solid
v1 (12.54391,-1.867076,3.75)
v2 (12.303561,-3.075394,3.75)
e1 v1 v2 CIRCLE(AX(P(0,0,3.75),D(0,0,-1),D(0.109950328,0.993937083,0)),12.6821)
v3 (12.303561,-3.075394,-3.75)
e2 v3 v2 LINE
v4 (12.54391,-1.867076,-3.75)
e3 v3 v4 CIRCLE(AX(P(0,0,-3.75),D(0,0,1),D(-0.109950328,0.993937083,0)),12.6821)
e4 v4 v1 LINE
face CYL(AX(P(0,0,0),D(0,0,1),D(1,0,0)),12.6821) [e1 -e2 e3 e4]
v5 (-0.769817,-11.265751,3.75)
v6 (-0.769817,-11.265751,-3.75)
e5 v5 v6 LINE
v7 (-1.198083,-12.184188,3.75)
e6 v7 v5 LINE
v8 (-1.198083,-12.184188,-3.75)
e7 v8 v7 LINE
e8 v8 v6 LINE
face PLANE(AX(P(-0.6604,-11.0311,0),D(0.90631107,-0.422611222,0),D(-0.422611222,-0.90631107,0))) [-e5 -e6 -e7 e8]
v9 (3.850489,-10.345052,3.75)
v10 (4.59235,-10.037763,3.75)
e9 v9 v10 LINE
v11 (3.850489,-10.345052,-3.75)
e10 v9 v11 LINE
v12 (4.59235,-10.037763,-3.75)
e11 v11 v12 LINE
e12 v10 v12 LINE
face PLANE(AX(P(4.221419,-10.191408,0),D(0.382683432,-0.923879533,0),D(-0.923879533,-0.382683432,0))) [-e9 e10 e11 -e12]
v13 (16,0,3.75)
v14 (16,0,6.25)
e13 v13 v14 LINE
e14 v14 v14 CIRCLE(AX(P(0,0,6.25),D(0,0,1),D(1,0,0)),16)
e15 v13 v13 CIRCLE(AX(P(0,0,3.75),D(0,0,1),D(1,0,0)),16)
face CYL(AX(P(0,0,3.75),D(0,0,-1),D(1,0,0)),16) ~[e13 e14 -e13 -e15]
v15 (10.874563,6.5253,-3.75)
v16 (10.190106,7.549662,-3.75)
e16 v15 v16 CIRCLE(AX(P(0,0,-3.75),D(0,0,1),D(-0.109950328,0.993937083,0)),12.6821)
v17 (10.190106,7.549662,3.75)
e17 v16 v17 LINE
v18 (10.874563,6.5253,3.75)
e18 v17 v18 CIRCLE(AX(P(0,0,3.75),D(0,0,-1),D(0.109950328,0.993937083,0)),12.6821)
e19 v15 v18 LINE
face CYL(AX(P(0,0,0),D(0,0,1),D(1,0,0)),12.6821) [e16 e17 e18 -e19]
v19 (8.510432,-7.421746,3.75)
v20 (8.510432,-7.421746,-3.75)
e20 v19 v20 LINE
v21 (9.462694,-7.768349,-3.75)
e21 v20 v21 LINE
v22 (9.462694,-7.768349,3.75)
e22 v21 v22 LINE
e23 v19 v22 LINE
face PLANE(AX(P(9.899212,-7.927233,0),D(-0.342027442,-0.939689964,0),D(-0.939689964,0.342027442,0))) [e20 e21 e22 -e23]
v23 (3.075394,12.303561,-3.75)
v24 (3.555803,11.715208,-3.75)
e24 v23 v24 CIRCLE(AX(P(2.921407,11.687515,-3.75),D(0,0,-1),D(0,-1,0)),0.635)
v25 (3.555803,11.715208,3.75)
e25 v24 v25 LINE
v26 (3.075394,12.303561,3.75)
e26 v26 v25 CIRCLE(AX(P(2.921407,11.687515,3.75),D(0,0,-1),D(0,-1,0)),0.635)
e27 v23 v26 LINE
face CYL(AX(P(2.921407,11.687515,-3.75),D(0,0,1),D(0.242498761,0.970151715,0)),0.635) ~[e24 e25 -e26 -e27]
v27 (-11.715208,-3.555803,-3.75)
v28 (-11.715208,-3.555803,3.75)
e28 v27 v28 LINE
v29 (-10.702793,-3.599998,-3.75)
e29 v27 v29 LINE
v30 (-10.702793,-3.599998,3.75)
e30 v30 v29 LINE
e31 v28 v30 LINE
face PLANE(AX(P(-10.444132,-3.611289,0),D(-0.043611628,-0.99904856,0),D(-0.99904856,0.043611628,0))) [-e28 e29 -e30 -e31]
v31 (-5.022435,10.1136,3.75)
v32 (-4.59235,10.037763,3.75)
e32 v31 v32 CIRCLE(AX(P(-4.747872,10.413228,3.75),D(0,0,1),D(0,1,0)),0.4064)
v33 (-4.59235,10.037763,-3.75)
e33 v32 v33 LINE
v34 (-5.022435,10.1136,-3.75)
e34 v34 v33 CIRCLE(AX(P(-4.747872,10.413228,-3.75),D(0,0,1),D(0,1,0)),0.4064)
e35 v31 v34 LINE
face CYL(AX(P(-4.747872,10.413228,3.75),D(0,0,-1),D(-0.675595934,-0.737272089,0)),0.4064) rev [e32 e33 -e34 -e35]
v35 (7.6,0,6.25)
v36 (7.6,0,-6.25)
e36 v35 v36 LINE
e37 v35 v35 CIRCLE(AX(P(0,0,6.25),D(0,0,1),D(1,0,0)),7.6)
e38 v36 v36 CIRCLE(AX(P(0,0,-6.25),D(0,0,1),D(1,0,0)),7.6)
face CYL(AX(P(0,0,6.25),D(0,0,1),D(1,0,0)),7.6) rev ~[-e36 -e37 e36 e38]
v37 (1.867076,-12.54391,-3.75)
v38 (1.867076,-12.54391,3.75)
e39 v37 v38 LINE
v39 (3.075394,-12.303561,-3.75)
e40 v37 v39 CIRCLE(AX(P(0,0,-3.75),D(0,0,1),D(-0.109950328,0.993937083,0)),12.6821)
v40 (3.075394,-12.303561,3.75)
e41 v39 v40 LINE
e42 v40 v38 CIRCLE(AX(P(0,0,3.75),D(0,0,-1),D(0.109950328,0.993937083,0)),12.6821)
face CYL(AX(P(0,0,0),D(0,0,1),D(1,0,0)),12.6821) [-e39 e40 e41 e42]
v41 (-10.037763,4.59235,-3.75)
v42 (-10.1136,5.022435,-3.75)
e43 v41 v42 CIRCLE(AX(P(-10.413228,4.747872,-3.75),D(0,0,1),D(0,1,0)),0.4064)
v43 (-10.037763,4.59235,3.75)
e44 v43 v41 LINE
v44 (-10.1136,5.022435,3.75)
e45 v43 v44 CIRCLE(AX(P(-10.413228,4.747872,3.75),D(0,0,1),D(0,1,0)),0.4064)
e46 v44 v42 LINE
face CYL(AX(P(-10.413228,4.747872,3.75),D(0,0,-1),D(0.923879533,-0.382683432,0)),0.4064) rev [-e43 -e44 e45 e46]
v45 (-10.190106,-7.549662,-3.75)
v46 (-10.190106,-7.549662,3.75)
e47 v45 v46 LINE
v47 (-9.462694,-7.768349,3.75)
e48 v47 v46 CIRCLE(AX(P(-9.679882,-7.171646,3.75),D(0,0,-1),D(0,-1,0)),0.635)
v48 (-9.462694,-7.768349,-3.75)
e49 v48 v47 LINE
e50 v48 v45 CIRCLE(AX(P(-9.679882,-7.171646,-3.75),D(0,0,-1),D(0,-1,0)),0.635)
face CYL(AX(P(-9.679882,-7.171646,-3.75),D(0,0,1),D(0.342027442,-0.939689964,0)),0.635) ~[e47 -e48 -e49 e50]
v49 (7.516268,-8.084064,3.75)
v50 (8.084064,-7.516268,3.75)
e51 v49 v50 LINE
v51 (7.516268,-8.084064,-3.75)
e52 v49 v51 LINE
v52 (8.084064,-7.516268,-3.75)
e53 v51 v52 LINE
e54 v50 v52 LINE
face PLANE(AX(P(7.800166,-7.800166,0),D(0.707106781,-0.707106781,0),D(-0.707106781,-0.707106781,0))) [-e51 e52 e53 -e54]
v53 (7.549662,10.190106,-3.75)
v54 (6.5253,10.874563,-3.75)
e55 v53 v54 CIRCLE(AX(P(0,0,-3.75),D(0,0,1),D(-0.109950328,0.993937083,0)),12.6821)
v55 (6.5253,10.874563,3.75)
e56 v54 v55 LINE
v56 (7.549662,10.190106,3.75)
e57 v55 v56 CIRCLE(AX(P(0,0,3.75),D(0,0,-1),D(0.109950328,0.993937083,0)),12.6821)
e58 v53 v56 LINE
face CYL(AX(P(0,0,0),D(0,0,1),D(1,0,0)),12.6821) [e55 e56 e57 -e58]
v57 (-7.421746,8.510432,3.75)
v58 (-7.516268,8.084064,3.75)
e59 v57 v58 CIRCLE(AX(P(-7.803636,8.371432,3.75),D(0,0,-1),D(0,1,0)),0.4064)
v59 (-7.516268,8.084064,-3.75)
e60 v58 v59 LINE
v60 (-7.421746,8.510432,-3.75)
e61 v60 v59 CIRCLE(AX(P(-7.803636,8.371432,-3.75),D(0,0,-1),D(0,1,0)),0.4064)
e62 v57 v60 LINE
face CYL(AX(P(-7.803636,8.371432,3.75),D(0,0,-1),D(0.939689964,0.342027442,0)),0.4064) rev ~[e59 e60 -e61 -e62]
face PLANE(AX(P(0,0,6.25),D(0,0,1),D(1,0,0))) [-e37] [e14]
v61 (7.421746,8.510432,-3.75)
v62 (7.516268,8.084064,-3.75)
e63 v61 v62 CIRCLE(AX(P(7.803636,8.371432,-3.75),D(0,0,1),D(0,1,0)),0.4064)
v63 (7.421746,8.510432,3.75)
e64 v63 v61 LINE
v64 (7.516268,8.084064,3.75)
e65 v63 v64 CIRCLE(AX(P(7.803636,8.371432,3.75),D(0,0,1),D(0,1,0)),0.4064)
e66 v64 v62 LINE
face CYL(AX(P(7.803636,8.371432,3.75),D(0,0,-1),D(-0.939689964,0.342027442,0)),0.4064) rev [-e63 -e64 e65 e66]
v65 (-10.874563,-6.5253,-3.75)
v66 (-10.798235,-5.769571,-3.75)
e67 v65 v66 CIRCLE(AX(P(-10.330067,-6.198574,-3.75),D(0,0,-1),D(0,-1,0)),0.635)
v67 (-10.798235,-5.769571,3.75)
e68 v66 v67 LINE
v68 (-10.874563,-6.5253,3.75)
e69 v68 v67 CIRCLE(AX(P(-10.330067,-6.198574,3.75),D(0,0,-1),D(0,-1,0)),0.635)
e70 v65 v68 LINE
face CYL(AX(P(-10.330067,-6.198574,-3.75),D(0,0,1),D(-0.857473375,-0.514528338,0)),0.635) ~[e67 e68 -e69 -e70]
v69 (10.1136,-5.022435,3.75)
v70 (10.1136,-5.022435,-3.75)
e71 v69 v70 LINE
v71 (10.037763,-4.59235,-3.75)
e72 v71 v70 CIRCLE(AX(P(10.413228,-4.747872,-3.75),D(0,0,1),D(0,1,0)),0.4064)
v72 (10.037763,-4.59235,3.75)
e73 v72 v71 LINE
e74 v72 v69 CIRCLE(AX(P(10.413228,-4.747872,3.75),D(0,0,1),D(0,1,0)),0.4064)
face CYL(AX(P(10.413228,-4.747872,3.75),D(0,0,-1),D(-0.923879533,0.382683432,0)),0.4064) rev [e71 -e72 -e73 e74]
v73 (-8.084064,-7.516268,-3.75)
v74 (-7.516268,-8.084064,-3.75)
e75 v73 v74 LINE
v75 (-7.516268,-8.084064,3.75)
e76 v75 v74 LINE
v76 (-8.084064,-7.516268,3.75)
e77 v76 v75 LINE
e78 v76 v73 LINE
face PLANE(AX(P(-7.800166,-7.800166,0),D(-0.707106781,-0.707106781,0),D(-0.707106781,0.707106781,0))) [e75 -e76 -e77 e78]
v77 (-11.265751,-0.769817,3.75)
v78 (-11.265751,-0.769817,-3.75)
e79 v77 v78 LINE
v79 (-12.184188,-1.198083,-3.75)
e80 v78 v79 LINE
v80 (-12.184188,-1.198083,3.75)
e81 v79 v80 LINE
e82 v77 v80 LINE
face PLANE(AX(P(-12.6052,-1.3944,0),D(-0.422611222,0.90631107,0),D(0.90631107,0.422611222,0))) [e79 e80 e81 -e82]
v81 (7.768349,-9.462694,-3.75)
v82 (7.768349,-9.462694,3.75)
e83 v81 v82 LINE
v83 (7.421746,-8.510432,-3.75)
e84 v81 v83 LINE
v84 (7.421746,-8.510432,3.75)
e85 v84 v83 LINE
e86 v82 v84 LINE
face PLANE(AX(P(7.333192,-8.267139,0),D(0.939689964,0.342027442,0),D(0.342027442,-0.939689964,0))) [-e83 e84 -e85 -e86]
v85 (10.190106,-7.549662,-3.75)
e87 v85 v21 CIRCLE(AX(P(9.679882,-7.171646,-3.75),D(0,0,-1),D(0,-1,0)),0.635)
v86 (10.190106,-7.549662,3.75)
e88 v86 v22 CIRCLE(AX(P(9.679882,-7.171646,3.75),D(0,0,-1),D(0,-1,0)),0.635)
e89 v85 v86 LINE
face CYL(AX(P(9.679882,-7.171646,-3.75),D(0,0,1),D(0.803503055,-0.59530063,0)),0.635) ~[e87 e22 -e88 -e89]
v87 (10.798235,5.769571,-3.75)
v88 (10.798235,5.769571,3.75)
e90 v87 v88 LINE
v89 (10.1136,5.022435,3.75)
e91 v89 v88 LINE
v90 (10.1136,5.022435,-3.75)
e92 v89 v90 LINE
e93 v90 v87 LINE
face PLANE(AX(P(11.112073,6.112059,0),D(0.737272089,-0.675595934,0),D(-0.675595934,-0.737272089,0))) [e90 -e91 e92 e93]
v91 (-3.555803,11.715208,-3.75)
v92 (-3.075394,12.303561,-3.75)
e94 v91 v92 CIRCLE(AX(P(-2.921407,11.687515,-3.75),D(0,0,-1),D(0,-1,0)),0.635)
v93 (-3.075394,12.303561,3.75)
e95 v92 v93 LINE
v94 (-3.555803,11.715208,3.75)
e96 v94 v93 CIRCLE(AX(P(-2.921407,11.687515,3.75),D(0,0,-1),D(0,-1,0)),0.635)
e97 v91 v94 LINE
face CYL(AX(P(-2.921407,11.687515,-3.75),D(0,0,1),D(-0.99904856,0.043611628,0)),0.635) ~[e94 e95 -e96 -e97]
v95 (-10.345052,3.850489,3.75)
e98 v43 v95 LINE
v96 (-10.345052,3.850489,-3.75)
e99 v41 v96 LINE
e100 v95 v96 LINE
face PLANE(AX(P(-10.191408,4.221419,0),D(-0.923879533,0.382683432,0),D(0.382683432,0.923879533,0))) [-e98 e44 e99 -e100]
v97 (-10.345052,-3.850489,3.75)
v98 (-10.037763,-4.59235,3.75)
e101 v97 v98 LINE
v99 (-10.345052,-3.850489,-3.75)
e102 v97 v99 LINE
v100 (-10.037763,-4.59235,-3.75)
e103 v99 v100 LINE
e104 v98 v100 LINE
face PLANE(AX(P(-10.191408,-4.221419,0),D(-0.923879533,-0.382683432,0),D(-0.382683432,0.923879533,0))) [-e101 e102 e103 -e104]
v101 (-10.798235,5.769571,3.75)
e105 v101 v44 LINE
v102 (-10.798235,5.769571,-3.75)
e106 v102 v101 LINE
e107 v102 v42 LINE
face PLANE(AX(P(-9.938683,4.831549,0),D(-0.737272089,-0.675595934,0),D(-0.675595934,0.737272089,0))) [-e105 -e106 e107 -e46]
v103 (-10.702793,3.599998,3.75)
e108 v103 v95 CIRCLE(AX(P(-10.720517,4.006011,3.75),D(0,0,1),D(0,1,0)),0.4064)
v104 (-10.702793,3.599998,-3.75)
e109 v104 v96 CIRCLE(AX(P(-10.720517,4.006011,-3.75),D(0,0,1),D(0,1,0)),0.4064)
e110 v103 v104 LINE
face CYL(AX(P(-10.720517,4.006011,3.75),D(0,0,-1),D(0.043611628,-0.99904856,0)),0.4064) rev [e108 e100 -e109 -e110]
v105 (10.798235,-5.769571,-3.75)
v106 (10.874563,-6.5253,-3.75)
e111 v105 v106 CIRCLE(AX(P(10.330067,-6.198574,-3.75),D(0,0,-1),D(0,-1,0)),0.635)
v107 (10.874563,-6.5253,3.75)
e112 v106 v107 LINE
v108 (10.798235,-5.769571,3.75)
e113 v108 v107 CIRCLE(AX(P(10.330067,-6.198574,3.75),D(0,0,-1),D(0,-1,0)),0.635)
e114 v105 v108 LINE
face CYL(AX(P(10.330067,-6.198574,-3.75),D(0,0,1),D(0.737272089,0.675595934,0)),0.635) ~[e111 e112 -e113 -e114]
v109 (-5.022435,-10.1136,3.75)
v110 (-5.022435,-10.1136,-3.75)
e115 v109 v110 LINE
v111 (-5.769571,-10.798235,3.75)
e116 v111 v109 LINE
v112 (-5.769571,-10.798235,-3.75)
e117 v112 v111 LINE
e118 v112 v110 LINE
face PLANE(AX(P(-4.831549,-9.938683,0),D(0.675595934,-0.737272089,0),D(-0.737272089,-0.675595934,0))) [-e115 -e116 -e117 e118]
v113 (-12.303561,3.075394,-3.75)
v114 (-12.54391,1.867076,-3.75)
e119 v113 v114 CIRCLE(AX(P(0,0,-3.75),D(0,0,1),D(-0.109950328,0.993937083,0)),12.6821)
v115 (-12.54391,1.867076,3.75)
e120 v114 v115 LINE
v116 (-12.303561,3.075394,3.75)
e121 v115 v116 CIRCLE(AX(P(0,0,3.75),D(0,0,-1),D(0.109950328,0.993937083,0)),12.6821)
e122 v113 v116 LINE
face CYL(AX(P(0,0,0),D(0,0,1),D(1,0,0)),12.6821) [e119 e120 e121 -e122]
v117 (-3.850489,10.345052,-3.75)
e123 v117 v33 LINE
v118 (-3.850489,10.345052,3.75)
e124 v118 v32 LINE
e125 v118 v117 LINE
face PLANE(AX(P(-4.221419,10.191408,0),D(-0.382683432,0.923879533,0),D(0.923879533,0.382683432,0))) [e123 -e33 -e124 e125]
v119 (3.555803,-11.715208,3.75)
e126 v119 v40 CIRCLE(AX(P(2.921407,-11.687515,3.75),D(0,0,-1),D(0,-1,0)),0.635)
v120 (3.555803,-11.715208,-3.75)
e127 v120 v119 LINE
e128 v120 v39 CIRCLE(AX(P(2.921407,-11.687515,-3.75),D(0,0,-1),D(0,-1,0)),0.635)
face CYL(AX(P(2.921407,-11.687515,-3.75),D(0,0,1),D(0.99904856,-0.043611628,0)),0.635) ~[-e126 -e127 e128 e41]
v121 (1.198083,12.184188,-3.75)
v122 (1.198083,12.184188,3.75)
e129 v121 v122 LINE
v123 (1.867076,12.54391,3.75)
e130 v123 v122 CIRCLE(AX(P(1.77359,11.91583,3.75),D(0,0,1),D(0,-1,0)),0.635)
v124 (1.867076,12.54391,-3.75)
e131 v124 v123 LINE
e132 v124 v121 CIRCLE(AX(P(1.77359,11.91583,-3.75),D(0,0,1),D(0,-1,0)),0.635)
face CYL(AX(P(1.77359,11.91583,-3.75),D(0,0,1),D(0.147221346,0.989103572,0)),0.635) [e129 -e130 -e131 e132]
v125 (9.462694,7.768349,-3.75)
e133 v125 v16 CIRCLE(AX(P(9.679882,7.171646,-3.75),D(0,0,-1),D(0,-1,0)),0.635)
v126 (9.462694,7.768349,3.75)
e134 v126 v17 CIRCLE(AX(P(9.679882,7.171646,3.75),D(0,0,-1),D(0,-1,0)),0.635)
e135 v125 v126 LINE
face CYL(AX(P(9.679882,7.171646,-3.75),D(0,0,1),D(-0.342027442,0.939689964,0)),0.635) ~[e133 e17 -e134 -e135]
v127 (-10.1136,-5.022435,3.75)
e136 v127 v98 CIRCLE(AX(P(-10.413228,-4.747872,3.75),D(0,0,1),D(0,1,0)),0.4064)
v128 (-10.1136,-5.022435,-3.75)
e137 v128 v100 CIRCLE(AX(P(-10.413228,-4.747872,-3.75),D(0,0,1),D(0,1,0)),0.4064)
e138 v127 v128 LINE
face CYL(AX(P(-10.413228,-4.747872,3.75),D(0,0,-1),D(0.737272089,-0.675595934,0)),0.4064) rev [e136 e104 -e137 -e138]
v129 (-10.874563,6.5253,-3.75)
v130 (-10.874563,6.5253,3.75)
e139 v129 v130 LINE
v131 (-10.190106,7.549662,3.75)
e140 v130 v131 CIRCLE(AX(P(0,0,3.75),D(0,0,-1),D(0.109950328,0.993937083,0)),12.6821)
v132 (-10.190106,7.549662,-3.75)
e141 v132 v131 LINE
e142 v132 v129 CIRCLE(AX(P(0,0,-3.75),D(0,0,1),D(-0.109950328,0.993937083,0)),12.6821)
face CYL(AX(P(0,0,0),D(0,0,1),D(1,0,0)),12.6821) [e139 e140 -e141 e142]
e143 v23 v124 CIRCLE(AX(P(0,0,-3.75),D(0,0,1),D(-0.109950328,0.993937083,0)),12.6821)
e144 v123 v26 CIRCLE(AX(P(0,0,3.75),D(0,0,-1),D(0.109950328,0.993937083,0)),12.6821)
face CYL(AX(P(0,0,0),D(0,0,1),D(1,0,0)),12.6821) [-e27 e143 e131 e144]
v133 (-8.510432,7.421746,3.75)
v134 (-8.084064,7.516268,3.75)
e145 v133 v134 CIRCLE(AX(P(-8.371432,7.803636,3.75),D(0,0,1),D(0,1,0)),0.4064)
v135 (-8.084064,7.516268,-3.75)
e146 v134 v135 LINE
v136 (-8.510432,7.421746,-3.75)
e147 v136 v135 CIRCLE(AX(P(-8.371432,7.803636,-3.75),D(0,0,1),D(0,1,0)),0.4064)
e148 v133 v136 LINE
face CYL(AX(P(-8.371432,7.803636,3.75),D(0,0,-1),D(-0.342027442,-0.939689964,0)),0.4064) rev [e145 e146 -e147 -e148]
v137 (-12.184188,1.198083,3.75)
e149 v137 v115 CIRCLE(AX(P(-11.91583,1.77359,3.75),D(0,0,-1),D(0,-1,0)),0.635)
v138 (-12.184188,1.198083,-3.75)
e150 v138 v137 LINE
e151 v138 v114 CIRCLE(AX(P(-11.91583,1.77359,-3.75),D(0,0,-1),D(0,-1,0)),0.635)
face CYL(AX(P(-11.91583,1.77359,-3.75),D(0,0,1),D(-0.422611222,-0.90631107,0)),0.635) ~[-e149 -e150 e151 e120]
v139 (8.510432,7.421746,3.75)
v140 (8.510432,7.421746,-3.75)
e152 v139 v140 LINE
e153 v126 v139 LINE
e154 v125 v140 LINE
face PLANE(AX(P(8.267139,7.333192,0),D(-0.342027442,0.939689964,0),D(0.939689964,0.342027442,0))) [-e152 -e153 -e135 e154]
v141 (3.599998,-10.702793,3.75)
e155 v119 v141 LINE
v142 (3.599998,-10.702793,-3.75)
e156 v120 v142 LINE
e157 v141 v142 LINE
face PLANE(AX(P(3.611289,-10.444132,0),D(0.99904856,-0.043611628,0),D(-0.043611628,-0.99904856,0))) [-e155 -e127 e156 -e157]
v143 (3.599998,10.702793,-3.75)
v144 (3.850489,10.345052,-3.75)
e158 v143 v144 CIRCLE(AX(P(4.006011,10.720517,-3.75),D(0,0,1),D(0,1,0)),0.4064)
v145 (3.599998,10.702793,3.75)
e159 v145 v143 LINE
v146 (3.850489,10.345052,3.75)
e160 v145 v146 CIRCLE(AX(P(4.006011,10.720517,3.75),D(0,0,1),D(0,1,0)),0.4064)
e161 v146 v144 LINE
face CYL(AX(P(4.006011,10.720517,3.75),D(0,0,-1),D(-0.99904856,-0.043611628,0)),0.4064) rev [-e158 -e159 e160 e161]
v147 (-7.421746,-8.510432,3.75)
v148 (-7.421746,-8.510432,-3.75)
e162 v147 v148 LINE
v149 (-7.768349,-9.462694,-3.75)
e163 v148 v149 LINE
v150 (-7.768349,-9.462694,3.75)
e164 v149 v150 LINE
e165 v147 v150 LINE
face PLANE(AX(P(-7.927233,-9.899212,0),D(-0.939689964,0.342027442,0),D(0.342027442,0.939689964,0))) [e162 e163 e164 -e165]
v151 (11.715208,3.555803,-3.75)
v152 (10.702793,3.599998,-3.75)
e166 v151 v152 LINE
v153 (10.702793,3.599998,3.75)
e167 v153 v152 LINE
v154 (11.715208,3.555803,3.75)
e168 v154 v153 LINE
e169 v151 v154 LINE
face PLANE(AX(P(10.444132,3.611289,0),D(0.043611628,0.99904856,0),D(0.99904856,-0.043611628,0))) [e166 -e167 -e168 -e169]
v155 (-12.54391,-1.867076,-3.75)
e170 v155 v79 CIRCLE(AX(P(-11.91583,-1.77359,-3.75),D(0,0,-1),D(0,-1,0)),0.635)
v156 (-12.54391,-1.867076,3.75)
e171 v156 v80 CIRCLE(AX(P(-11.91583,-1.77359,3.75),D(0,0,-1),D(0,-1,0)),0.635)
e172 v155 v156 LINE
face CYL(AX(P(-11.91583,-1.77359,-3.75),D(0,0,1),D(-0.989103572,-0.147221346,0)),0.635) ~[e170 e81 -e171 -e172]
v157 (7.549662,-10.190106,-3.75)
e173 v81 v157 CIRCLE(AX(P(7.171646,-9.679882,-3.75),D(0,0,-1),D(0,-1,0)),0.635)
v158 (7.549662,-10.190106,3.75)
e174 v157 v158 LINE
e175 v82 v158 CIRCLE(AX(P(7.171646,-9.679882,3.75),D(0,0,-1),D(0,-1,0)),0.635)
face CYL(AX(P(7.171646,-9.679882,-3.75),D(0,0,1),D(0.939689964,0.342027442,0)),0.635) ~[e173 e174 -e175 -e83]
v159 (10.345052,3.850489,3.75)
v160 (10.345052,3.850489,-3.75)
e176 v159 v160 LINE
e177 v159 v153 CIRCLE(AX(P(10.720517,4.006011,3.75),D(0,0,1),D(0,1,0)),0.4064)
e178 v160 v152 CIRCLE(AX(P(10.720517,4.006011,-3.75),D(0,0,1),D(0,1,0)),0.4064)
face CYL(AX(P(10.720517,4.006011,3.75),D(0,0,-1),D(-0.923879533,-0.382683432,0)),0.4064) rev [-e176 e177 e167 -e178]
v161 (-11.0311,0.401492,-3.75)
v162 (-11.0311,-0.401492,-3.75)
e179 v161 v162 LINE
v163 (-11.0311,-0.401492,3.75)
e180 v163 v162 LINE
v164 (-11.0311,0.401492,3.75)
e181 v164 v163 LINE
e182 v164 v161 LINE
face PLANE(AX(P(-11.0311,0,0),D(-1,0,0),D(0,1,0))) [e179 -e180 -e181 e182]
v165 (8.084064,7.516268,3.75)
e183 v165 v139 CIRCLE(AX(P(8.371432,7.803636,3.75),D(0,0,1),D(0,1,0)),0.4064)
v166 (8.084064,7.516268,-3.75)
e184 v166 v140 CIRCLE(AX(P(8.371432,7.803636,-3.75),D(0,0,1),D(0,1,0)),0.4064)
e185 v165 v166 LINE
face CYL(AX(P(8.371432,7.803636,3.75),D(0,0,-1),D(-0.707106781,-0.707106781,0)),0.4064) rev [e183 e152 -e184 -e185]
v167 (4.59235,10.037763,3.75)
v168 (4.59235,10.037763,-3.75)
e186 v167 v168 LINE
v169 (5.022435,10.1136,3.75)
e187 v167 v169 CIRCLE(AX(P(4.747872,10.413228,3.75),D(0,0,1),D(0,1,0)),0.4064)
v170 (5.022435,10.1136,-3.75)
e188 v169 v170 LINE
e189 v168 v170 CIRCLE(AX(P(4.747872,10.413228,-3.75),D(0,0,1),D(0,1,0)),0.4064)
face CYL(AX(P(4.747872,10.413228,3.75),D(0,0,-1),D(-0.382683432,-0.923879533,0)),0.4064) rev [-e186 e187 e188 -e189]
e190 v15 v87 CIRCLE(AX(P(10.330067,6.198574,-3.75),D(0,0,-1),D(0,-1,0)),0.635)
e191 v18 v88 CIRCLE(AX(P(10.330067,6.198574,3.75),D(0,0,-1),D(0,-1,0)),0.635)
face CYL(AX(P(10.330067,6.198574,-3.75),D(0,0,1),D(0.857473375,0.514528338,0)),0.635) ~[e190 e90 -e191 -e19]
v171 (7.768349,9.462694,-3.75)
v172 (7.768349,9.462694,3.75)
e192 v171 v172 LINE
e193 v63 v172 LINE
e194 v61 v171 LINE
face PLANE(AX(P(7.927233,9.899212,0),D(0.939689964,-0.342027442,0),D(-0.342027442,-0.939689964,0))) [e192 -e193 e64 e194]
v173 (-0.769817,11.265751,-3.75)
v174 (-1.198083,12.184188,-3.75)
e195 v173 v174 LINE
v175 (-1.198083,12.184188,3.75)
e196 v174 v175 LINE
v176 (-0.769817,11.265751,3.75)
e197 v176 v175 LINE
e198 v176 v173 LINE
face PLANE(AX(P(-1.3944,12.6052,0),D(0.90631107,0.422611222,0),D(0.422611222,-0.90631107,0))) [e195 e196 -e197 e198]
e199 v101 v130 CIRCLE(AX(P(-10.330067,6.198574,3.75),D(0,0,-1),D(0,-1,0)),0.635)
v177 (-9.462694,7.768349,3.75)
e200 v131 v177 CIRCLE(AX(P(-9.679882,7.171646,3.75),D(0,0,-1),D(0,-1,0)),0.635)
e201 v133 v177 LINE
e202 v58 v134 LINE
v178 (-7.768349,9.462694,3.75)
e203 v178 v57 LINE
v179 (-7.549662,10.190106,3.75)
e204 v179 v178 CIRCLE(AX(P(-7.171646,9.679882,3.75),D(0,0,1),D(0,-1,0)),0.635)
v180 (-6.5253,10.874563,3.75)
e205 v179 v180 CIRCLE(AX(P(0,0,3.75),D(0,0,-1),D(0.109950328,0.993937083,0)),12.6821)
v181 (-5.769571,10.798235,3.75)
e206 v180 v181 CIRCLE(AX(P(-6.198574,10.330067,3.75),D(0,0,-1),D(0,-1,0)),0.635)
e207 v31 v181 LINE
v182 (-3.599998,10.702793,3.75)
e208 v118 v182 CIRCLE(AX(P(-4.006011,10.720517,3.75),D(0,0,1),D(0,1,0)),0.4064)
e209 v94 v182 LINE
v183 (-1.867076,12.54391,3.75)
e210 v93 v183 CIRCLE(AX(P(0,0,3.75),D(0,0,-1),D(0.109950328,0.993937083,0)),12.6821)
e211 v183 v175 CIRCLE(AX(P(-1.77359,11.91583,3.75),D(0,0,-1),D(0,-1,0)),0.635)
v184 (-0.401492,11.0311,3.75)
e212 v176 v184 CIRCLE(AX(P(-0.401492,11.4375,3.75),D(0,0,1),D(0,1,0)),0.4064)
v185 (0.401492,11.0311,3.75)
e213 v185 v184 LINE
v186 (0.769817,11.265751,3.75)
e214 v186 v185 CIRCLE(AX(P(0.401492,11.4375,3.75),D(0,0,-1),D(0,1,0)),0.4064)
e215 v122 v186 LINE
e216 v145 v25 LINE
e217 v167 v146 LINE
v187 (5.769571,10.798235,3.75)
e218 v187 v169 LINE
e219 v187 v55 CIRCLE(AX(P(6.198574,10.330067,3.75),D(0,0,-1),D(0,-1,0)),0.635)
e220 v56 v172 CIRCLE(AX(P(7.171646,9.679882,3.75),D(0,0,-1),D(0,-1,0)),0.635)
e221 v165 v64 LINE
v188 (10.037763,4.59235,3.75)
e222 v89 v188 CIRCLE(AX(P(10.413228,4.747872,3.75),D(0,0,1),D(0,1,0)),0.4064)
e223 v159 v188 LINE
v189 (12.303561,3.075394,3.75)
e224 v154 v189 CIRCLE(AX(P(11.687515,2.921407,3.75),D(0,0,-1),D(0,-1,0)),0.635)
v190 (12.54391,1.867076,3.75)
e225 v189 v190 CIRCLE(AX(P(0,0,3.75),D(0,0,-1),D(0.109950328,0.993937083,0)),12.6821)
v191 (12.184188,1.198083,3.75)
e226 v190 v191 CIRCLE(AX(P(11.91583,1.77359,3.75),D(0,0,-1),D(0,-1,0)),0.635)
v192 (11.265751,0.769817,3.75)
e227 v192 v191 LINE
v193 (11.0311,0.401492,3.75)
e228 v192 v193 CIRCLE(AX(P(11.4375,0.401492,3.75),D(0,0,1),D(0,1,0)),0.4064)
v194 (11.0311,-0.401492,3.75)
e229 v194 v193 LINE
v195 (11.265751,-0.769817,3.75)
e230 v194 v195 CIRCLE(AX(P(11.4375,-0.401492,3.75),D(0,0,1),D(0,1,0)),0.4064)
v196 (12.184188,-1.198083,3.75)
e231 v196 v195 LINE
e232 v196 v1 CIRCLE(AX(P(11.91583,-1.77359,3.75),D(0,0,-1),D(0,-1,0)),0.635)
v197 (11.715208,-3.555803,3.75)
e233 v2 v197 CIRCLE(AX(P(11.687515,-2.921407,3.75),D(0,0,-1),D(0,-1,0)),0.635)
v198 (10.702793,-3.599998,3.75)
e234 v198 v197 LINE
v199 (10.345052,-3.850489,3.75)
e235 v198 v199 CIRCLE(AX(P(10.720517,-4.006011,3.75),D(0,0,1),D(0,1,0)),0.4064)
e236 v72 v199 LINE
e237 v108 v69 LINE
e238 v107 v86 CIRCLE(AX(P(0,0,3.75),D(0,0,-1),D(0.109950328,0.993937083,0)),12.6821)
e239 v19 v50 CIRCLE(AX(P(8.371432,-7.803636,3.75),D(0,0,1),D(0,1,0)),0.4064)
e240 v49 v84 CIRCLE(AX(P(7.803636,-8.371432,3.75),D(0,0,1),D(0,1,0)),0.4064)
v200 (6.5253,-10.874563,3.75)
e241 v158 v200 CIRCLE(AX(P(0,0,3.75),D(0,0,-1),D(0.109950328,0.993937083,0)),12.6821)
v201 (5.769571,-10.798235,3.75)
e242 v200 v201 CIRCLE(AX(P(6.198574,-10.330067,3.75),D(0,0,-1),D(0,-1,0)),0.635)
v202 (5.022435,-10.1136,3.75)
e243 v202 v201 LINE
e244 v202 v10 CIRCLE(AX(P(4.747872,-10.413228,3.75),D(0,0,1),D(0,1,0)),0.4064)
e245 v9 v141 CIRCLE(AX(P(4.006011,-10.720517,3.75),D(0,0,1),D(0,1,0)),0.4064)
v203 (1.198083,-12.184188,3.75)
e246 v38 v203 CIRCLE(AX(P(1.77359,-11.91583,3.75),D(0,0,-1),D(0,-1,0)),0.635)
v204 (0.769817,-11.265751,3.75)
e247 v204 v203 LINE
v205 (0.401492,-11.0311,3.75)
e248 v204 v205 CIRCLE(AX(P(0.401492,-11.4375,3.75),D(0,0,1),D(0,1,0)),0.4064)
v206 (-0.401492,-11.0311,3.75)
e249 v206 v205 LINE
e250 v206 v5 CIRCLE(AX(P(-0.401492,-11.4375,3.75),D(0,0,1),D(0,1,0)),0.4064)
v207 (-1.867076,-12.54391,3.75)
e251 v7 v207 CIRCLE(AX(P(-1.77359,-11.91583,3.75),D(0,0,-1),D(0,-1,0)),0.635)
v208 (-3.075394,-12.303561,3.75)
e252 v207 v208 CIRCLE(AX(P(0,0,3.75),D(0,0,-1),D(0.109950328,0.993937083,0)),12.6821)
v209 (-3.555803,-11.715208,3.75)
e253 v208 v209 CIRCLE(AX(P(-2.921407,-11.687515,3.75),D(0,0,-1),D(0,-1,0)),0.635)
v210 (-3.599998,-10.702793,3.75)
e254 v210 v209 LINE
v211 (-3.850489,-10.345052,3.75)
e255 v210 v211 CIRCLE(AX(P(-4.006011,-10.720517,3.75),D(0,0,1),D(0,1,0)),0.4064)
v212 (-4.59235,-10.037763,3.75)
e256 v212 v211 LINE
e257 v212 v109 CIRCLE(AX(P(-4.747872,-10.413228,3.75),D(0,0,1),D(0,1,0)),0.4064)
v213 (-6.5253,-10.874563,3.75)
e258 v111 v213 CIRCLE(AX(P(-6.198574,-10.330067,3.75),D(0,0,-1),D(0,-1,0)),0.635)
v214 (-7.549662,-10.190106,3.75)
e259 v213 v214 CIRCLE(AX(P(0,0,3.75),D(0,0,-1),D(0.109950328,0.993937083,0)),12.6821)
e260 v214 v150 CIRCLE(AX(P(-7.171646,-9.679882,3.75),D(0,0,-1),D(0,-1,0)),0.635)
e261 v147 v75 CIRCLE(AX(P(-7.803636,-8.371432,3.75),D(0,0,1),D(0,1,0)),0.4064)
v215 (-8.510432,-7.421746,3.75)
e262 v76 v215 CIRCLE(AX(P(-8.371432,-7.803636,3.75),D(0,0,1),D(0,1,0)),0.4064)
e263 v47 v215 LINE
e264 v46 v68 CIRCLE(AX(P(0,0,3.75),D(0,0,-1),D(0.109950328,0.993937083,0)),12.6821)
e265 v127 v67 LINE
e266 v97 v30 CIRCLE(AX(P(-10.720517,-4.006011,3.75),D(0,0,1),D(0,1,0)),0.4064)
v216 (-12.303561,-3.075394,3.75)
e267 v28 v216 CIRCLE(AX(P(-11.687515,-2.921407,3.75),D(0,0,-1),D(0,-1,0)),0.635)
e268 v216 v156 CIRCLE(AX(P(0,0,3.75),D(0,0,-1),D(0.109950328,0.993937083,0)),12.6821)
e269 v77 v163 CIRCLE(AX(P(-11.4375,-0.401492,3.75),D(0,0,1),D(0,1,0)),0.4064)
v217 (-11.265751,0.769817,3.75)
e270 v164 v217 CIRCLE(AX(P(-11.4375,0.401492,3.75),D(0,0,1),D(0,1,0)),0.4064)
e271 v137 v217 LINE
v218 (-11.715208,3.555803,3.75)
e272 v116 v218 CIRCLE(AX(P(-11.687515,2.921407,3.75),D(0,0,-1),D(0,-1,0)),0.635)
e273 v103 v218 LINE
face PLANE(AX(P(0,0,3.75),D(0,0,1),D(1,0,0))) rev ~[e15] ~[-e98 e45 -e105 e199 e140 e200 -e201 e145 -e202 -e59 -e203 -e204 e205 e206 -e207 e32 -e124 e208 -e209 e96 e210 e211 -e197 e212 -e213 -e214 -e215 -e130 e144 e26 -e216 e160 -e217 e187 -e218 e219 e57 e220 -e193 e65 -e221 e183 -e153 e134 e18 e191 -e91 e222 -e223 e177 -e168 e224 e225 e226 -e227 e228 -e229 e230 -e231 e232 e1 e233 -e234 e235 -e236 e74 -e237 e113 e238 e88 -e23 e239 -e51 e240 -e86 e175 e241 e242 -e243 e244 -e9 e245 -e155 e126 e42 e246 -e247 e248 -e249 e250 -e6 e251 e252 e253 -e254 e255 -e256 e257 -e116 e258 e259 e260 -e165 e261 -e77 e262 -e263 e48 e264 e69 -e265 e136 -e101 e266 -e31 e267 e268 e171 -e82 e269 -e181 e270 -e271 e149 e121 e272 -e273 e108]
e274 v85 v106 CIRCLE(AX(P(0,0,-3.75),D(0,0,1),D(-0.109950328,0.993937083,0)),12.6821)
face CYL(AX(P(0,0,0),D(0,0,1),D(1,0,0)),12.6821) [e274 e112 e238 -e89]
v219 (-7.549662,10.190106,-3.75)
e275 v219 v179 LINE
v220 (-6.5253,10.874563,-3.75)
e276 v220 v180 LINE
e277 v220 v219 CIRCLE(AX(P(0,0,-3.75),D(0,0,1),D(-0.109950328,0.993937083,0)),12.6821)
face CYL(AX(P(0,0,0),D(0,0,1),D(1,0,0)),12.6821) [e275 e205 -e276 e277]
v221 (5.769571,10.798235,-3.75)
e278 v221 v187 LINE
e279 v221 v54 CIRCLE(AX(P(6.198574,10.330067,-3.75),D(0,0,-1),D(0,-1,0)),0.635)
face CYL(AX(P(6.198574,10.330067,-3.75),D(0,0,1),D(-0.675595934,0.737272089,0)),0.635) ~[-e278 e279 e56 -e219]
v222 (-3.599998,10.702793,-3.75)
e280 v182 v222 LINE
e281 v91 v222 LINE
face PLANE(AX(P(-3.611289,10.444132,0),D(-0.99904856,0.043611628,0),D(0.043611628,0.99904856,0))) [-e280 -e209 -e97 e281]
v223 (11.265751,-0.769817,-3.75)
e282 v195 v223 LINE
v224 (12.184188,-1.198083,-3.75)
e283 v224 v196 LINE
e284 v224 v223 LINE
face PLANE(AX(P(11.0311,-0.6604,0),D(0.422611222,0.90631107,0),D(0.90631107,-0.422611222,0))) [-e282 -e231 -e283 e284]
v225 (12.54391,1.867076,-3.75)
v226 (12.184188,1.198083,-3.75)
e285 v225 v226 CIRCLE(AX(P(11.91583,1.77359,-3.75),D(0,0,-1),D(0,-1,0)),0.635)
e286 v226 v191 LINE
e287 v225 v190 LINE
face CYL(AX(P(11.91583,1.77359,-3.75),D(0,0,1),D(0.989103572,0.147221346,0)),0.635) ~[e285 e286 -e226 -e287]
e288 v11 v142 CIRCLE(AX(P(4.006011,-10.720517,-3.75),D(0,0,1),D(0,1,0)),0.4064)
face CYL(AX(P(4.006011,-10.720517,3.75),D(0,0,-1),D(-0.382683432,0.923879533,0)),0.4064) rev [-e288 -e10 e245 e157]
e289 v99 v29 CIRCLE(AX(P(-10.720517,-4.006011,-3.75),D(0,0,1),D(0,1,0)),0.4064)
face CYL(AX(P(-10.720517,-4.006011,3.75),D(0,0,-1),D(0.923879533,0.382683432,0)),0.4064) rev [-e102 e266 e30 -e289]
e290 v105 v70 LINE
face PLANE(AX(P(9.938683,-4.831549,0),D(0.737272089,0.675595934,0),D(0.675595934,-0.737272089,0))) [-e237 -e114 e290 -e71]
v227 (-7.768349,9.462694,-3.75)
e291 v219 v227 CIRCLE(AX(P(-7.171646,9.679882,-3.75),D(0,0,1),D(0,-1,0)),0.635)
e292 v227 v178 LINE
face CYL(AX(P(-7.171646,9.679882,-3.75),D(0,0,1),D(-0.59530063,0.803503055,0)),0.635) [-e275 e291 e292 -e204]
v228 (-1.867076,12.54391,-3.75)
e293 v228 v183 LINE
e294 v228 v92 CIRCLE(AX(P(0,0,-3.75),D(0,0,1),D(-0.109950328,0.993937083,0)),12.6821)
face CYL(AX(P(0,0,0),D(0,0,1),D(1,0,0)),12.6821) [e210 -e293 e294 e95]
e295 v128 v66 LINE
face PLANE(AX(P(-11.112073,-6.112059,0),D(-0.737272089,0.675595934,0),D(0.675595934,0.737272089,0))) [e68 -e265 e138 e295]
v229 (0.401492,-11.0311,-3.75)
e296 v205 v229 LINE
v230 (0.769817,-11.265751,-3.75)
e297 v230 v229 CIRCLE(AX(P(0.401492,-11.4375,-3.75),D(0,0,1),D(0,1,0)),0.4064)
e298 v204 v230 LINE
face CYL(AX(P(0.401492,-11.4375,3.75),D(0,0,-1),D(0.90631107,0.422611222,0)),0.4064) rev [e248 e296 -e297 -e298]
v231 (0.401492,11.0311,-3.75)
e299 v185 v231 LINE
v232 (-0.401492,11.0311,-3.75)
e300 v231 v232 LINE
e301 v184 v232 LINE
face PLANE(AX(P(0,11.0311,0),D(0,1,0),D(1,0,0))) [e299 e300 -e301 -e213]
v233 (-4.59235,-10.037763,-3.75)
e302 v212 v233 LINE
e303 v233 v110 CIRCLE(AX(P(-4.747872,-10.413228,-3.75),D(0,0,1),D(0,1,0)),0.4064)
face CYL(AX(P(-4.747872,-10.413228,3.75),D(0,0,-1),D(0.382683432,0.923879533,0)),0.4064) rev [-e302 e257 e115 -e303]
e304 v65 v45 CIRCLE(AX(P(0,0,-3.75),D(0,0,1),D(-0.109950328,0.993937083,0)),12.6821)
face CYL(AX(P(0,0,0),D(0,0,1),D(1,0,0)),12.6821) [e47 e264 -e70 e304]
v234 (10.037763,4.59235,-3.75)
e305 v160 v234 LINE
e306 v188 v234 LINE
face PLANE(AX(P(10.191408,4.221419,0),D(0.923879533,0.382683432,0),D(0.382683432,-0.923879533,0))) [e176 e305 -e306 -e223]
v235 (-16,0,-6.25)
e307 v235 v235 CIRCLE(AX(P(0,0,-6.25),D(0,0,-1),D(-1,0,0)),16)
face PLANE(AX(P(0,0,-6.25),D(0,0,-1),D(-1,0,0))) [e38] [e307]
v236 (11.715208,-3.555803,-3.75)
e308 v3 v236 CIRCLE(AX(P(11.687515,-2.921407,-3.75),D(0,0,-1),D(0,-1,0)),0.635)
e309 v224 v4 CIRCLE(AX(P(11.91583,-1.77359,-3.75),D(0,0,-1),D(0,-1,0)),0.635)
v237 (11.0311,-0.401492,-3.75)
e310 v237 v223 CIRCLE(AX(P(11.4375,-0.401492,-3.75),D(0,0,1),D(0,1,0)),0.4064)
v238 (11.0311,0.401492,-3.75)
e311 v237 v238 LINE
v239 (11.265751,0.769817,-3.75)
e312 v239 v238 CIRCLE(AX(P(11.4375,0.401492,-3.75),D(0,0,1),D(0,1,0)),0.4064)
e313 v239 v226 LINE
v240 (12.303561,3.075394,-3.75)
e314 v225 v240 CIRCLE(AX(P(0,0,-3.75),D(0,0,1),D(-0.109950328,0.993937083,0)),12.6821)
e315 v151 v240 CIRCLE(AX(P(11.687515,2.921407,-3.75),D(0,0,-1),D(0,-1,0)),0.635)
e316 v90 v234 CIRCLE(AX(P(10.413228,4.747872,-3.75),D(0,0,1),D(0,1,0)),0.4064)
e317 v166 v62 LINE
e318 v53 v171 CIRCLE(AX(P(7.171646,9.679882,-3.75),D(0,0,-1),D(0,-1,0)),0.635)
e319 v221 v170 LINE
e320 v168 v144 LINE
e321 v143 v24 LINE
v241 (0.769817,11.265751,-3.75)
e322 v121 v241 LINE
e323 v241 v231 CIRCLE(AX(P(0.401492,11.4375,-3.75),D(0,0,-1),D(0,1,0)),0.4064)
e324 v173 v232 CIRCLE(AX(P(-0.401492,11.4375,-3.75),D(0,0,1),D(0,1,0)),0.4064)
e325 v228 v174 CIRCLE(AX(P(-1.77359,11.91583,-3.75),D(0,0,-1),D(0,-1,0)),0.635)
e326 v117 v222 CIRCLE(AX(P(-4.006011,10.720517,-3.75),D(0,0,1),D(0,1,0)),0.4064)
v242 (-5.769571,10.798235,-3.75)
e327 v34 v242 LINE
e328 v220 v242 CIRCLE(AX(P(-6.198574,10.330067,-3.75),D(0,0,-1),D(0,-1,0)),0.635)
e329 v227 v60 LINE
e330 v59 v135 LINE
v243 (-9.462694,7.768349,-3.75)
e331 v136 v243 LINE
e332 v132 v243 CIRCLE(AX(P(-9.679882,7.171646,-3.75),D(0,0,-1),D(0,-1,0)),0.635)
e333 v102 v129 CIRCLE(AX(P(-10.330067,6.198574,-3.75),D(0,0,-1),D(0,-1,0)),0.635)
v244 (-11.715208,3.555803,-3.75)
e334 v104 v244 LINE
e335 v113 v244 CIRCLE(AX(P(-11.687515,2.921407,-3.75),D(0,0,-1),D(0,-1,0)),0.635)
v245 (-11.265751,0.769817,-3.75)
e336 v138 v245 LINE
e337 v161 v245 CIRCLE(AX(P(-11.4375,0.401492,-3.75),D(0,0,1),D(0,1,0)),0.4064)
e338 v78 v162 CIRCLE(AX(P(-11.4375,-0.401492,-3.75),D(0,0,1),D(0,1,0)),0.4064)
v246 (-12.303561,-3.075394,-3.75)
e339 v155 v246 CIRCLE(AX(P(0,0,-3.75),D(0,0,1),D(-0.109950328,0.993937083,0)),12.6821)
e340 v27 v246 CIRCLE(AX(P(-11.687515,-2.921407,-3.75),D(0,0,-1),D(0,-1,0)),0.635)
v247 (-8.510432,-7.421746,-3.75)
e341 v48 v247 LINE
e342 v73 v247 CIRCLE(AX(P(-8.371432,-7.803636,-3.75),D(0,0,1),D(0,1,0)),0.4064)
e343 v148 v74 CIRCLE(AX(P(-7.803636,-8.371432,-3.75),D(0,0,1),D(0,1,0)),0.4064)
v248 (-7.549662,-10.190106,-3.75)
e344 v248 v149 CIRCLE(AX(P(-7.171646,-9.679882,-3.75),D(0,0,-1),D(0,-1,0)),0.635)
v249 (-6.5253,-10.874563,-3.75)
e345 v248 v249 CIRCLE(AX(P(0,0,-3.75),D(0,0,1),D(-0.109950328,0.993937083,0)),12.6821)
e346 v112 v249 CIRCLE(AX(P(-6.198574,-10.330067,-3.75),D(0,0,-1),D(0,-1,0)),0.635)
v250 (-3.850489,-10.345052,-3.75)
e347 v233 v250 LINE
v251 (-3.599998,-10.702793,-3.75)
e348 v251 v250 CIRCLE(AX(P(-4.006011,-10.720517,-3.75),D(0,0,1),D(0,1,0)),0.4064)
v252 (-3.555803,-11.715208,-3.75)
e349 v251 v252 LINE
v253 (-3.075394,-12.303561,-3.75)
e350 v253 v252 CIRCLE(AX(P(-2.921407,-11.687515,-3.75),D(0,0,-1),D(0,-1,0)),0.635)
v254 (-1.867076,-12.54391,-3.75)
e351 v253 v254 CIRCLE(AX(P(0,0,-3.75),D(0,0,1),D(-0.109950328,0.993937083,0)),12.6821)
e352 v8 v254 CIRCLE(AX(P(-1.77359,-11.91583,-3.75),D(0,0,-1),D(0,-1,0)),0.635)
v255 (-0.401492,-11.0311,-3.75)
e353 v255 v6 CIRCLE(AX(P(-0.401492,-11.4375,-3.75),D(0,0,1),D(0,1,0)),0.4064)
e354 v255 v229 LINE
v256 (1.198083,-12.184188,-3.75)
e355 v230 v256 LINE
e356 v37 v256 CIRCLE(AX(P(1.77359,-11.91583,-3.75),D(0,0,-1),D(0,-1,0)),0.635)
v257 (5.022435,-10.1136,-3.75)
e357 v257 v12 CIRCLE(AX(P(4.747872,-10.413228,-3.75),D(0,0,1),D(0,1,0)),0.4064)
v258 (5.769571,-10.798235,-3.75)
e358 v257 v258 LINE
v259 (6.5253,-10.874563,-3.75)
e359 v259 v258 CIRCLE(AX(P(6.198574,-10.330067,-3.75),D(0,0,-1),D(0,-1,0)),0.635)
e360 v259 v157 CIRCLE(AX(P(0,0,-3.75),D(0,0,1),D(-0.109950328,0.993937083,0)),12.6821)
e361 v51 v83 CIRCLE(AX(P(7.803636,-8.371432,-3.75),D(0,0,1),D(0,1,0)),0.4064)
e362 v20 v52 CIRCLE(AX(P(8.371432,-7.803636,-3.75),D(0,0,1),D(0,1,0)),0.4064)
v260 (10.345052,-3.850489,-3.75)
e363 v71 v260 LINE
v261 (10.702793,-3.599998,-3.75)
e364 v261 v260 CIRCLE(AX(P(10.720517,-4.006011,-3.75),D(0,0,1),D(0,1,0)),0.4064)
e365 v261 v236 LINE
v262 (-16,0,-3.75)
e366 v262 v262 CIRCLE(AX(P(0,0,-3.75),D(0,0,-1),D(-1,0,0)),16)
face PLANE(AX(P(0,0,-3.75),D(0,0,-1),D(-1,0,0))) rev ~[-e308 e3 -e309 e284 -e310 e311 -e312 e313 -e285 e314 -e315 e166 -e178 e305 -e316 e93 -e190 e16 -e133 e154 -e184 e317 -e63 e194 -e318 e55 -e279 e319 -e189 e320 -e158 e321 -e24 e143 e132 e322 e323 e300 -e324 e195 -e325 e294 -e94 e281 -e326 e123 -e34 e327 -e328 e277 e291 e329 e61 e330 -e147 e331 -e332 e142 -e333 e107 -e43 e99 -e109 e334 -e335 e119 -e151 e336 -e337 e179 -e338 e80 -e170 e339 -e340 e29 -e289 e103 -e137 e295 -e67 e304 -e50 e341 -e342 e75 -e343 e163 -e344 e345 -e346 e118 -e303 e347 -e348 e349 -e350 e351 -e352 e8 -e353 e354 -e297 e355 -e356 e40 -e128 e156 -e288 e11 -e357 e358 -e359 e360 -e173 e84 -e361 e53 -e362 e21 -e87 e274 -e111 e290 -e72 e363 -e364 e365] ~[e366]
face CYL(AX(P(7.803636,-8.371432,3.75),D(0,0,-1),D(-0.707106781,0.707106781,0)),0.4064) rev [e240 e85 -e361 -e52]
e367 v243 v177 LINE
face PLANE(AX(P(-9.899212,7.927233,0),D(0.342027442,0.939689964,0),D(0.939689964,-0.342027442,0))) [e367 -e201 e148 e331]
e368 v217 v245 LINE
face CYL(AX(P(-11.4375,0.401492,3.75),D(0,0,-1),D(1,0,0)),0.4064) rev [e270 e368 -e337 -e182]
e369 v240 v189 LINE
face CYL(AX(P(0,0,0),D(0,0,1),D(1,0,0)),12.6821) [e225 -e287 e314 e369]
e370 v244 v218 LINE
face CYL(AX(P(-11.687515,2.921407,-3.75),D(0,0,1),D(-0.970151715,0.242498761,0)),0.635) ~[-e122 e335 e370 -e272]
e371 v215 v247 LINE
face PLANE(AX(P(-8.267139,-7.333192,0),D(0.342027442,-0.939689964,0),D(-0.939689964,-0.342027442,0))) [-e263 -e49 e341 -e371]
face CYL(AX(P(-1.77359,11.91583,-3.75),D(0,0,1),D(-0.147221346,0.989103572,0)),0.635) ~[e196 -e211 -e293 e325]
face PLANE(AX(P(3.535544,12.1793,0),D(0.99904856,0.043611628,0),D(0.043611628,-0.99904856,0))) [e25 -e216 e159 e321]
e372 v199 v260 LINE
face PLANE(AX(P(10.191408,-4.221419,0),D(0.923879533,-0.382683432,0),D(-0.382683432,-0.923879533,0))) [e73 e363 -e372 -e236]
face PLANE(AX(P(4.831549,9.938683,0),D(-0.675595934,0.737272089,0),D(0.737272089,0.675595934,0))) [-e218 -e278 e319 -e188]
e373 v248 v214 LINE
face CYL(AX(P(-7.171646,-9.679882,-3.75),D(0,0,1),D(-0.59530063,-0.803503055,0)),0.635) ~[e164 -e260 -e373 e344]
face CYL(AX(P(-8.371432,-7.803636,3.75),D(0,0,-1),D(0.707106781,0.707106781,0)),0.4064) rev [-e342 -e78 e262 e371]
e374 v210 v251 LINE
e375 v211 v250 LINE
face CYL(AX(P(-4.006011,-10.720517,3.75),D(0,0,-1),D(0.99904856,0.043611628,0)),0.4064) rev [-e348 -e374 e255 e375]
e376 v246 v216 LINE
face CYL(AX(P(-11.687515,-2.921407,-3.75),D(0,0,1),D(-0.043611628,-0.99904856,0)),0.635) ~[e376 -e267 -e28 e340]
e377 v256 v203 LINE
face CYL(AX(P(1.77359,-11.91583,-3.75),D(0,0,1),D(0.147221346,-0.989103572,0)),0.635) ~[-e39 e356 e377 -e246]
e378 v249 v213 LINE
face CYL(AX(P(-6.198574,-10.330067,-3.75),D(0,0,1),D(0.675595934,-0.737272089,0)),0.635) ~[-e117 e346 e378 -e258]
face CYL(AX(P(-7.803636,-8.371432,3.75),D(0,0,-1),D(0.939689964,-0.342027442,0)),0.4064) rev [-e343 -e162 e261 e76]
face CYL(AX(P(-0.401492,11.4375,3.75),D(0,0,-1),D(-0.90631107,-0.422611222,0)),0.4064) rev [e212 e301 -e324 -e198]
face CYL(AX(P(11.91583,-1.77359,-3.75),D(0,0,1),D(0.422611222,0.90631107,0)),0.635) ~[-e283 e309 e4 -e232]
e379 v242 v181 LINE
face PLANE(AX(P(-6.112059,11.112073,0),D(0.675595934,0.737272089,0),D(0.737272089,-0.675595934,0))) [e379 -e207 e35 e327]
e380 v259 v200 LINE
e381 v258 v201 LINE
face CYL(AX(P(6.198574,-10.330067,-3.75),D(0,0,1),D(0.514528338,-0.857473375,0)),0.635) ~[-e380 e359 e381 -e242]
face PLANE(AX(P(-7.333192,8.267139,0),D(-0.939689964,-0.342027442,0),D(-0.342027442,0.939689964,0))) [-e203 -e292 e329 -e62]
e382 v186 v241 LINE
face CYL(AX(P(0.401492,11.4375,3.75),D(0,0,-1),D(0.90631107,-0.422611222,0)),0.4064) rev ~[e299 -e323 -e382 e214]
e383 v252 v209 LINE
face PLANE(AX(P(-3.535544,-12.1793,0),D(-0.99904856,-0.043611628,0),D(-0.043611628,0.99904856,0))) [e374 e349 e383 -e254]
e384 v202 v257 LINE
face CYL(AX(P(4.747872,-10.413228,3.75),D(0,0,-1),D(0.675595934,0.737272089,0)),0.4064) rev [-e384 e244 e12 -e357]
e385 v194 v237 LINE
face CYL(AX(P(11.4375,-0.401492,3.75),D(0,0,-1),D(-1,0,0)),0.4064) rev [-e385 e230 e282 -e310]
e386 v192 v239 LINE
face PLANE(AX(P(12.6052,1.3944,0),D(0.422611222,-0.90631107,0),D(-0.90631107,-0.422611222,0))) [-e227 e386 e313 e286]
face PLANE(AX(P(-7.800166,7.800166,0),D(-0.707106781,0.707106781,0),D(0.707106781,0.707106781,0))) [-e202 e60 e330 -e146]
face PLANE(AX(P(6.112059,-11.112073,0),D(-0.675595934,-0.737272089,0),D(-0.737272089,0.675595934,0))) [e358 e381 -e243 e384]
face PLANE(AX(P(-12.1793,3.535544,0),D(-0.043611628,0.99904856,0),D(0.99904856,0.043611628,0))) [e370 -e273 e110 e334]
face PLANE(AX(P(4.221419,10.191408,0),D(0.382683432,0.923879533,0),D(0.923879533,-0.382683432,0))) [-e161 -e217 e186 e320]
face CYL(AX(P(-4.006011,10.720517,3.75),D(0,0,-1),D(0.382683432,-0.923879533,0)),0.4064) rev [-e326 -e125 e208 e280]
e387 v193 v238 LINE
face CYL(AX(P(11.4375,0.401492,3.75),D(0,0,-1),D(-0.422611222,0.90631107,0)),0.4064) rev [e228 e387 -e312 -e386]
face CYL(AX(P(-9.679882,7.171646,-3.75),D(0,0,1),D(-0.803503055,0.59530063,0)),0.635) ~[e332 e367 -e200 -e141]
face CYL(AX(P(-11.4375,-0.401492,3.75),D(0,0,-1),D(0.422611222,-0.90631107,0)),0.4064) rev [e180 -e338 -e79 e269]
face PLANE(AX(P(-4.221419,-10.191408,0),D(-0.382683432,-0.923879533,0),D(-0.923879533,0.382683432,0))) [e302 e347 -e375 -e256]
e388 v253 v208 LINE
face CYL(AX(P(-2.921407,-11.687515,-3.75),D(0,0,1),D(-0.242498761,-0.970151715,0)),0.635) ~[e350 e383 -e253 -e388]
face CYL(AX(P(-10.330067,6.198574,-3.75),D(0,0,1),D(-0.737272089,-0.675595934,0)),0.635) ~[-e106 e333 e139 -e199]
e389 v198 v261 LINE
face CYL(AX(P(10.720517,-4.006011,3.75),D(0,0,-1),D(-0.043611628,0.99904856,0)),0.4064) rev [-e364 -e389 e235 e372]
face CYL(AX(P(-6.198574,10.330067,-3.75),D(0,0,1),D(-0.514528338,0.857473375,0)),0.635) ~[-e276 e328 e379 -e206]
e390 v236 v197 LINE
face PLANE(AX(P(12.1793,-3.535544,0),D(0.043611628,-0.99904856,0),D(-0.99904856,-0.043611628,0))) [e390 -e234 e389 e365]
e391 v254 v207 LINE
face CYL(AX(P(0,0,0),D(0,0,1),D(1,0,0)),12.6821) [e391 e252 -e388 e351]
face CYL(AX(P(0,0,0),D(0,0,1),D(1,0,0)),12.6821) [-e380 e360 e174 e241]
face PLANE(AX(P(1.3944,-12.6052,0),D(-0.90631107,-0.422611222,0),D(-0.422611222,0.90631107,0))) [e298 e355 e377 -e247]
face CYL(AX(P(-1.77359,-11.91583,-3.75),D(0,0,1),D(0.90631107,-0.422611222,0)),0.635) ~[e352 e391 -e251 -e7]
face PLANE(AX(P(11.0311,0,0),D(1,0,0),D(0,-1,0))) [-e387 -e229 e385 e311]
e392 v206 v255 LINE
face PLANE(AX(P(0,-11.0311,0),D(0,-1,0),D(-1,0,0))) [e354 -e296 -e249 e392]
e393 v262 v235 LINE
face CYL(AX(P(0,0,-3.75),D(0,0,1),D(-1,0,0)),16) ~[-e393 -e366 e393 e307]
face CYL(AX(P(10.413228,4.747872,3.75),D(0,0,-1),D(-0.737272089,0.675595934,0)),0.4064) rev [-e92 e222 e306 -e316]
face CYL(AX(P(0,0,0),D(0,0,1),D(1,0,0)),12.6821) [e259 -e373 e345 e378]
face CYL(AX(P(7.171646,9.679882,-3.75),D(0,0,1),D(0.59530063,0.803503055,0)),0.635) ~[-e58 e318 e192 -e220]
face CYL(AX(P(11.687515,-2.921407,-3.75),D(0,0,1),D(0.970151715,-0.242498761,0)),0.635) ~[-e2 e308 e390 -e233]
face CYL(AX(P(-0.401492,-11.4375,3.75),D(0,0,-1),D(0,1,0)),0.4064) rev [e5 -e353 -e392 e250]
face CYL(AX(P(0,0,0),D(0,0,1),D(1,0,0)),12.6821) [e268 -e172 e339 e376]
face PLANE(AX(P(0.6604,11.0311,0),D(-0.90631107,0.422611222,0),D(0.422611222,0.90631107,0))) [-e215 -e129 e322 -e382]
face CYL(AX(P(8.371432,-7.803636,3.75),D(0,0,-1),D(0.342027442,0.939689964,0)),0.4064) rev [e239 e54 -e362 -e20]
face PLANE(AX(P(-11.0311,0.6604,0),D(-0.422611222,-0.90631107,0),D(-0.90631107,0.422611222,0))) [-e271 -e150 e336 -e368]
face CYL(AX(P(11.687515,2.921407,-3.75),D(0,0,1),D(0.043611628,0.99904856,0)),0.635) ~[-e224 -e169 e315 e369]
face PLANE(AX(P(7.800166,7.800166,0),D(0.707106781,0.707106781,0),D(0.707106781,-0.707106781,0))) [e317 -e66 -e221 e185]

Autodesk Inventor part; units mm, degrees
ref_plane "YZ Plane" through (0, 0, 0) normal (1, 0, 0) x (0, 1, 0)
ref_plane "XZ Plane" through (0, 0, 0) normal (0, 1, 0) x (-1, 0, 0)
ref_plane "XY Plane" through (0, 0, 0) normal (0, 0, 1) x (1, 0, 0)
sketch "プーリ スケッチ" plane through (0, 0, 0) normal (0, 0, 1) x (1, 0, 0)
  circle A0 centre (0, 0) radius 12.9361 construction
  circle A1 centre (0, 0) radius 12.6821
  circle A2 centre (0, 0) radius 11.0311
  line L0 (-1.3944, 12.6052) -> (-0.6604, 11.0311)
  line L1 (-0.6604, 11.0311) -> (0.6604, 11.0311)
  line L2 (0.6604, 11.0311) -> (1.3944, 12.6052)
  line L3 (0, 0) -> (0, 12.6821) construction
  point P0 (0, 11.0311)
  dimension "d0" = 25.8722
  dimension "d1" = 0.254
  dimension "d2" = 1.651
  dimension "d3" = 50
  dimension "d4" = 1.3208
extrude "基本ボディ" add sketch "プーリ スケッチ" along normal mid plane 7.5 contours A2 | A1 L0 L1 L2 | L2 L1 L0 A1
extrude "歯" cut sketch "プーリ スケッチ" along normal through all both and the other way through all contours L2 L1 L0 A1 picked at (0, 12.1261)
fillet "Fillet" radius 0.4064 2 edges at (0.6604, 11.0311, 0) (-0.6604, 11.0311, 0)
fillet "Fillet" radius 0.635 4 edges at (-1.3944, 12.6052, 1.875) (-1.3944, 12.6052, -1.875) (1.3944, 12.6052, 1.875) (1.3944, 12.6052, -1.875)
pattern_circular "Teeth" count 16 over 360 about axis through (0, 0, -10) along (0, 0, 1) of "歯", "Fillet"
sketch "スケッチ2" plane through (0, 0, 3.75) normal (0, 0, 1) x (1, 0, 0)
  circle A0 centre (0, 0) radius 16
  dimension "d17" = 32
extrude "押し出し3" add sketch "スケッチ2" along normal blind 2.5
sketch "スケッチ3" plane through (0, 0, -3.75) normal (0, 0, -1) x (-1, 0, 0)
  circle A0 centre (0, 0) radius 16
  dimension "d20" = 32
extrude "押し出し4" add sketch "スケッチ3" along normal blind 2.5
sketch "スケッチ4" plane through (0, 0, 6.25) normal (0, 0, 1) x (1, 0, 0)
  circle A0 centre (0, 0) radius 7.6
  dimension "d23" = 15.2
extrude "押し出し5" cut sketch "スケッチ4" against normal through all
equation "\"d1\" = da_a"
equation "\"d2\" = da_hg"
equation "\"d3\" = 2 * da_fi"
equation "\"d4\" = da_bw"
equation "\"d5\" = da_bf"
equation "\"d7\" = da_bf"
equation "\"d9\" = da_rb"
equation "\"d10\" = da_rt"
equation "\"da_pb\" = 5.08"
equation "\"da_fi\" = 25deg"
equation "\"da_hg\" = 1.651"
equation "\"da_bw\" = 1.3208"
equation "\"da_rb\" = 0.4064"
equation "\"da_rt\" = 0.635"
equation "\"da_a\" = 0.254"
equation "\"da_bf\" = 7.5"
equation "\"da_wf\" = 0.7366"
equation "\"da_hf\" = 1.016"
properties part number "歯付きプーリ1" material "ABS プラスチック"
